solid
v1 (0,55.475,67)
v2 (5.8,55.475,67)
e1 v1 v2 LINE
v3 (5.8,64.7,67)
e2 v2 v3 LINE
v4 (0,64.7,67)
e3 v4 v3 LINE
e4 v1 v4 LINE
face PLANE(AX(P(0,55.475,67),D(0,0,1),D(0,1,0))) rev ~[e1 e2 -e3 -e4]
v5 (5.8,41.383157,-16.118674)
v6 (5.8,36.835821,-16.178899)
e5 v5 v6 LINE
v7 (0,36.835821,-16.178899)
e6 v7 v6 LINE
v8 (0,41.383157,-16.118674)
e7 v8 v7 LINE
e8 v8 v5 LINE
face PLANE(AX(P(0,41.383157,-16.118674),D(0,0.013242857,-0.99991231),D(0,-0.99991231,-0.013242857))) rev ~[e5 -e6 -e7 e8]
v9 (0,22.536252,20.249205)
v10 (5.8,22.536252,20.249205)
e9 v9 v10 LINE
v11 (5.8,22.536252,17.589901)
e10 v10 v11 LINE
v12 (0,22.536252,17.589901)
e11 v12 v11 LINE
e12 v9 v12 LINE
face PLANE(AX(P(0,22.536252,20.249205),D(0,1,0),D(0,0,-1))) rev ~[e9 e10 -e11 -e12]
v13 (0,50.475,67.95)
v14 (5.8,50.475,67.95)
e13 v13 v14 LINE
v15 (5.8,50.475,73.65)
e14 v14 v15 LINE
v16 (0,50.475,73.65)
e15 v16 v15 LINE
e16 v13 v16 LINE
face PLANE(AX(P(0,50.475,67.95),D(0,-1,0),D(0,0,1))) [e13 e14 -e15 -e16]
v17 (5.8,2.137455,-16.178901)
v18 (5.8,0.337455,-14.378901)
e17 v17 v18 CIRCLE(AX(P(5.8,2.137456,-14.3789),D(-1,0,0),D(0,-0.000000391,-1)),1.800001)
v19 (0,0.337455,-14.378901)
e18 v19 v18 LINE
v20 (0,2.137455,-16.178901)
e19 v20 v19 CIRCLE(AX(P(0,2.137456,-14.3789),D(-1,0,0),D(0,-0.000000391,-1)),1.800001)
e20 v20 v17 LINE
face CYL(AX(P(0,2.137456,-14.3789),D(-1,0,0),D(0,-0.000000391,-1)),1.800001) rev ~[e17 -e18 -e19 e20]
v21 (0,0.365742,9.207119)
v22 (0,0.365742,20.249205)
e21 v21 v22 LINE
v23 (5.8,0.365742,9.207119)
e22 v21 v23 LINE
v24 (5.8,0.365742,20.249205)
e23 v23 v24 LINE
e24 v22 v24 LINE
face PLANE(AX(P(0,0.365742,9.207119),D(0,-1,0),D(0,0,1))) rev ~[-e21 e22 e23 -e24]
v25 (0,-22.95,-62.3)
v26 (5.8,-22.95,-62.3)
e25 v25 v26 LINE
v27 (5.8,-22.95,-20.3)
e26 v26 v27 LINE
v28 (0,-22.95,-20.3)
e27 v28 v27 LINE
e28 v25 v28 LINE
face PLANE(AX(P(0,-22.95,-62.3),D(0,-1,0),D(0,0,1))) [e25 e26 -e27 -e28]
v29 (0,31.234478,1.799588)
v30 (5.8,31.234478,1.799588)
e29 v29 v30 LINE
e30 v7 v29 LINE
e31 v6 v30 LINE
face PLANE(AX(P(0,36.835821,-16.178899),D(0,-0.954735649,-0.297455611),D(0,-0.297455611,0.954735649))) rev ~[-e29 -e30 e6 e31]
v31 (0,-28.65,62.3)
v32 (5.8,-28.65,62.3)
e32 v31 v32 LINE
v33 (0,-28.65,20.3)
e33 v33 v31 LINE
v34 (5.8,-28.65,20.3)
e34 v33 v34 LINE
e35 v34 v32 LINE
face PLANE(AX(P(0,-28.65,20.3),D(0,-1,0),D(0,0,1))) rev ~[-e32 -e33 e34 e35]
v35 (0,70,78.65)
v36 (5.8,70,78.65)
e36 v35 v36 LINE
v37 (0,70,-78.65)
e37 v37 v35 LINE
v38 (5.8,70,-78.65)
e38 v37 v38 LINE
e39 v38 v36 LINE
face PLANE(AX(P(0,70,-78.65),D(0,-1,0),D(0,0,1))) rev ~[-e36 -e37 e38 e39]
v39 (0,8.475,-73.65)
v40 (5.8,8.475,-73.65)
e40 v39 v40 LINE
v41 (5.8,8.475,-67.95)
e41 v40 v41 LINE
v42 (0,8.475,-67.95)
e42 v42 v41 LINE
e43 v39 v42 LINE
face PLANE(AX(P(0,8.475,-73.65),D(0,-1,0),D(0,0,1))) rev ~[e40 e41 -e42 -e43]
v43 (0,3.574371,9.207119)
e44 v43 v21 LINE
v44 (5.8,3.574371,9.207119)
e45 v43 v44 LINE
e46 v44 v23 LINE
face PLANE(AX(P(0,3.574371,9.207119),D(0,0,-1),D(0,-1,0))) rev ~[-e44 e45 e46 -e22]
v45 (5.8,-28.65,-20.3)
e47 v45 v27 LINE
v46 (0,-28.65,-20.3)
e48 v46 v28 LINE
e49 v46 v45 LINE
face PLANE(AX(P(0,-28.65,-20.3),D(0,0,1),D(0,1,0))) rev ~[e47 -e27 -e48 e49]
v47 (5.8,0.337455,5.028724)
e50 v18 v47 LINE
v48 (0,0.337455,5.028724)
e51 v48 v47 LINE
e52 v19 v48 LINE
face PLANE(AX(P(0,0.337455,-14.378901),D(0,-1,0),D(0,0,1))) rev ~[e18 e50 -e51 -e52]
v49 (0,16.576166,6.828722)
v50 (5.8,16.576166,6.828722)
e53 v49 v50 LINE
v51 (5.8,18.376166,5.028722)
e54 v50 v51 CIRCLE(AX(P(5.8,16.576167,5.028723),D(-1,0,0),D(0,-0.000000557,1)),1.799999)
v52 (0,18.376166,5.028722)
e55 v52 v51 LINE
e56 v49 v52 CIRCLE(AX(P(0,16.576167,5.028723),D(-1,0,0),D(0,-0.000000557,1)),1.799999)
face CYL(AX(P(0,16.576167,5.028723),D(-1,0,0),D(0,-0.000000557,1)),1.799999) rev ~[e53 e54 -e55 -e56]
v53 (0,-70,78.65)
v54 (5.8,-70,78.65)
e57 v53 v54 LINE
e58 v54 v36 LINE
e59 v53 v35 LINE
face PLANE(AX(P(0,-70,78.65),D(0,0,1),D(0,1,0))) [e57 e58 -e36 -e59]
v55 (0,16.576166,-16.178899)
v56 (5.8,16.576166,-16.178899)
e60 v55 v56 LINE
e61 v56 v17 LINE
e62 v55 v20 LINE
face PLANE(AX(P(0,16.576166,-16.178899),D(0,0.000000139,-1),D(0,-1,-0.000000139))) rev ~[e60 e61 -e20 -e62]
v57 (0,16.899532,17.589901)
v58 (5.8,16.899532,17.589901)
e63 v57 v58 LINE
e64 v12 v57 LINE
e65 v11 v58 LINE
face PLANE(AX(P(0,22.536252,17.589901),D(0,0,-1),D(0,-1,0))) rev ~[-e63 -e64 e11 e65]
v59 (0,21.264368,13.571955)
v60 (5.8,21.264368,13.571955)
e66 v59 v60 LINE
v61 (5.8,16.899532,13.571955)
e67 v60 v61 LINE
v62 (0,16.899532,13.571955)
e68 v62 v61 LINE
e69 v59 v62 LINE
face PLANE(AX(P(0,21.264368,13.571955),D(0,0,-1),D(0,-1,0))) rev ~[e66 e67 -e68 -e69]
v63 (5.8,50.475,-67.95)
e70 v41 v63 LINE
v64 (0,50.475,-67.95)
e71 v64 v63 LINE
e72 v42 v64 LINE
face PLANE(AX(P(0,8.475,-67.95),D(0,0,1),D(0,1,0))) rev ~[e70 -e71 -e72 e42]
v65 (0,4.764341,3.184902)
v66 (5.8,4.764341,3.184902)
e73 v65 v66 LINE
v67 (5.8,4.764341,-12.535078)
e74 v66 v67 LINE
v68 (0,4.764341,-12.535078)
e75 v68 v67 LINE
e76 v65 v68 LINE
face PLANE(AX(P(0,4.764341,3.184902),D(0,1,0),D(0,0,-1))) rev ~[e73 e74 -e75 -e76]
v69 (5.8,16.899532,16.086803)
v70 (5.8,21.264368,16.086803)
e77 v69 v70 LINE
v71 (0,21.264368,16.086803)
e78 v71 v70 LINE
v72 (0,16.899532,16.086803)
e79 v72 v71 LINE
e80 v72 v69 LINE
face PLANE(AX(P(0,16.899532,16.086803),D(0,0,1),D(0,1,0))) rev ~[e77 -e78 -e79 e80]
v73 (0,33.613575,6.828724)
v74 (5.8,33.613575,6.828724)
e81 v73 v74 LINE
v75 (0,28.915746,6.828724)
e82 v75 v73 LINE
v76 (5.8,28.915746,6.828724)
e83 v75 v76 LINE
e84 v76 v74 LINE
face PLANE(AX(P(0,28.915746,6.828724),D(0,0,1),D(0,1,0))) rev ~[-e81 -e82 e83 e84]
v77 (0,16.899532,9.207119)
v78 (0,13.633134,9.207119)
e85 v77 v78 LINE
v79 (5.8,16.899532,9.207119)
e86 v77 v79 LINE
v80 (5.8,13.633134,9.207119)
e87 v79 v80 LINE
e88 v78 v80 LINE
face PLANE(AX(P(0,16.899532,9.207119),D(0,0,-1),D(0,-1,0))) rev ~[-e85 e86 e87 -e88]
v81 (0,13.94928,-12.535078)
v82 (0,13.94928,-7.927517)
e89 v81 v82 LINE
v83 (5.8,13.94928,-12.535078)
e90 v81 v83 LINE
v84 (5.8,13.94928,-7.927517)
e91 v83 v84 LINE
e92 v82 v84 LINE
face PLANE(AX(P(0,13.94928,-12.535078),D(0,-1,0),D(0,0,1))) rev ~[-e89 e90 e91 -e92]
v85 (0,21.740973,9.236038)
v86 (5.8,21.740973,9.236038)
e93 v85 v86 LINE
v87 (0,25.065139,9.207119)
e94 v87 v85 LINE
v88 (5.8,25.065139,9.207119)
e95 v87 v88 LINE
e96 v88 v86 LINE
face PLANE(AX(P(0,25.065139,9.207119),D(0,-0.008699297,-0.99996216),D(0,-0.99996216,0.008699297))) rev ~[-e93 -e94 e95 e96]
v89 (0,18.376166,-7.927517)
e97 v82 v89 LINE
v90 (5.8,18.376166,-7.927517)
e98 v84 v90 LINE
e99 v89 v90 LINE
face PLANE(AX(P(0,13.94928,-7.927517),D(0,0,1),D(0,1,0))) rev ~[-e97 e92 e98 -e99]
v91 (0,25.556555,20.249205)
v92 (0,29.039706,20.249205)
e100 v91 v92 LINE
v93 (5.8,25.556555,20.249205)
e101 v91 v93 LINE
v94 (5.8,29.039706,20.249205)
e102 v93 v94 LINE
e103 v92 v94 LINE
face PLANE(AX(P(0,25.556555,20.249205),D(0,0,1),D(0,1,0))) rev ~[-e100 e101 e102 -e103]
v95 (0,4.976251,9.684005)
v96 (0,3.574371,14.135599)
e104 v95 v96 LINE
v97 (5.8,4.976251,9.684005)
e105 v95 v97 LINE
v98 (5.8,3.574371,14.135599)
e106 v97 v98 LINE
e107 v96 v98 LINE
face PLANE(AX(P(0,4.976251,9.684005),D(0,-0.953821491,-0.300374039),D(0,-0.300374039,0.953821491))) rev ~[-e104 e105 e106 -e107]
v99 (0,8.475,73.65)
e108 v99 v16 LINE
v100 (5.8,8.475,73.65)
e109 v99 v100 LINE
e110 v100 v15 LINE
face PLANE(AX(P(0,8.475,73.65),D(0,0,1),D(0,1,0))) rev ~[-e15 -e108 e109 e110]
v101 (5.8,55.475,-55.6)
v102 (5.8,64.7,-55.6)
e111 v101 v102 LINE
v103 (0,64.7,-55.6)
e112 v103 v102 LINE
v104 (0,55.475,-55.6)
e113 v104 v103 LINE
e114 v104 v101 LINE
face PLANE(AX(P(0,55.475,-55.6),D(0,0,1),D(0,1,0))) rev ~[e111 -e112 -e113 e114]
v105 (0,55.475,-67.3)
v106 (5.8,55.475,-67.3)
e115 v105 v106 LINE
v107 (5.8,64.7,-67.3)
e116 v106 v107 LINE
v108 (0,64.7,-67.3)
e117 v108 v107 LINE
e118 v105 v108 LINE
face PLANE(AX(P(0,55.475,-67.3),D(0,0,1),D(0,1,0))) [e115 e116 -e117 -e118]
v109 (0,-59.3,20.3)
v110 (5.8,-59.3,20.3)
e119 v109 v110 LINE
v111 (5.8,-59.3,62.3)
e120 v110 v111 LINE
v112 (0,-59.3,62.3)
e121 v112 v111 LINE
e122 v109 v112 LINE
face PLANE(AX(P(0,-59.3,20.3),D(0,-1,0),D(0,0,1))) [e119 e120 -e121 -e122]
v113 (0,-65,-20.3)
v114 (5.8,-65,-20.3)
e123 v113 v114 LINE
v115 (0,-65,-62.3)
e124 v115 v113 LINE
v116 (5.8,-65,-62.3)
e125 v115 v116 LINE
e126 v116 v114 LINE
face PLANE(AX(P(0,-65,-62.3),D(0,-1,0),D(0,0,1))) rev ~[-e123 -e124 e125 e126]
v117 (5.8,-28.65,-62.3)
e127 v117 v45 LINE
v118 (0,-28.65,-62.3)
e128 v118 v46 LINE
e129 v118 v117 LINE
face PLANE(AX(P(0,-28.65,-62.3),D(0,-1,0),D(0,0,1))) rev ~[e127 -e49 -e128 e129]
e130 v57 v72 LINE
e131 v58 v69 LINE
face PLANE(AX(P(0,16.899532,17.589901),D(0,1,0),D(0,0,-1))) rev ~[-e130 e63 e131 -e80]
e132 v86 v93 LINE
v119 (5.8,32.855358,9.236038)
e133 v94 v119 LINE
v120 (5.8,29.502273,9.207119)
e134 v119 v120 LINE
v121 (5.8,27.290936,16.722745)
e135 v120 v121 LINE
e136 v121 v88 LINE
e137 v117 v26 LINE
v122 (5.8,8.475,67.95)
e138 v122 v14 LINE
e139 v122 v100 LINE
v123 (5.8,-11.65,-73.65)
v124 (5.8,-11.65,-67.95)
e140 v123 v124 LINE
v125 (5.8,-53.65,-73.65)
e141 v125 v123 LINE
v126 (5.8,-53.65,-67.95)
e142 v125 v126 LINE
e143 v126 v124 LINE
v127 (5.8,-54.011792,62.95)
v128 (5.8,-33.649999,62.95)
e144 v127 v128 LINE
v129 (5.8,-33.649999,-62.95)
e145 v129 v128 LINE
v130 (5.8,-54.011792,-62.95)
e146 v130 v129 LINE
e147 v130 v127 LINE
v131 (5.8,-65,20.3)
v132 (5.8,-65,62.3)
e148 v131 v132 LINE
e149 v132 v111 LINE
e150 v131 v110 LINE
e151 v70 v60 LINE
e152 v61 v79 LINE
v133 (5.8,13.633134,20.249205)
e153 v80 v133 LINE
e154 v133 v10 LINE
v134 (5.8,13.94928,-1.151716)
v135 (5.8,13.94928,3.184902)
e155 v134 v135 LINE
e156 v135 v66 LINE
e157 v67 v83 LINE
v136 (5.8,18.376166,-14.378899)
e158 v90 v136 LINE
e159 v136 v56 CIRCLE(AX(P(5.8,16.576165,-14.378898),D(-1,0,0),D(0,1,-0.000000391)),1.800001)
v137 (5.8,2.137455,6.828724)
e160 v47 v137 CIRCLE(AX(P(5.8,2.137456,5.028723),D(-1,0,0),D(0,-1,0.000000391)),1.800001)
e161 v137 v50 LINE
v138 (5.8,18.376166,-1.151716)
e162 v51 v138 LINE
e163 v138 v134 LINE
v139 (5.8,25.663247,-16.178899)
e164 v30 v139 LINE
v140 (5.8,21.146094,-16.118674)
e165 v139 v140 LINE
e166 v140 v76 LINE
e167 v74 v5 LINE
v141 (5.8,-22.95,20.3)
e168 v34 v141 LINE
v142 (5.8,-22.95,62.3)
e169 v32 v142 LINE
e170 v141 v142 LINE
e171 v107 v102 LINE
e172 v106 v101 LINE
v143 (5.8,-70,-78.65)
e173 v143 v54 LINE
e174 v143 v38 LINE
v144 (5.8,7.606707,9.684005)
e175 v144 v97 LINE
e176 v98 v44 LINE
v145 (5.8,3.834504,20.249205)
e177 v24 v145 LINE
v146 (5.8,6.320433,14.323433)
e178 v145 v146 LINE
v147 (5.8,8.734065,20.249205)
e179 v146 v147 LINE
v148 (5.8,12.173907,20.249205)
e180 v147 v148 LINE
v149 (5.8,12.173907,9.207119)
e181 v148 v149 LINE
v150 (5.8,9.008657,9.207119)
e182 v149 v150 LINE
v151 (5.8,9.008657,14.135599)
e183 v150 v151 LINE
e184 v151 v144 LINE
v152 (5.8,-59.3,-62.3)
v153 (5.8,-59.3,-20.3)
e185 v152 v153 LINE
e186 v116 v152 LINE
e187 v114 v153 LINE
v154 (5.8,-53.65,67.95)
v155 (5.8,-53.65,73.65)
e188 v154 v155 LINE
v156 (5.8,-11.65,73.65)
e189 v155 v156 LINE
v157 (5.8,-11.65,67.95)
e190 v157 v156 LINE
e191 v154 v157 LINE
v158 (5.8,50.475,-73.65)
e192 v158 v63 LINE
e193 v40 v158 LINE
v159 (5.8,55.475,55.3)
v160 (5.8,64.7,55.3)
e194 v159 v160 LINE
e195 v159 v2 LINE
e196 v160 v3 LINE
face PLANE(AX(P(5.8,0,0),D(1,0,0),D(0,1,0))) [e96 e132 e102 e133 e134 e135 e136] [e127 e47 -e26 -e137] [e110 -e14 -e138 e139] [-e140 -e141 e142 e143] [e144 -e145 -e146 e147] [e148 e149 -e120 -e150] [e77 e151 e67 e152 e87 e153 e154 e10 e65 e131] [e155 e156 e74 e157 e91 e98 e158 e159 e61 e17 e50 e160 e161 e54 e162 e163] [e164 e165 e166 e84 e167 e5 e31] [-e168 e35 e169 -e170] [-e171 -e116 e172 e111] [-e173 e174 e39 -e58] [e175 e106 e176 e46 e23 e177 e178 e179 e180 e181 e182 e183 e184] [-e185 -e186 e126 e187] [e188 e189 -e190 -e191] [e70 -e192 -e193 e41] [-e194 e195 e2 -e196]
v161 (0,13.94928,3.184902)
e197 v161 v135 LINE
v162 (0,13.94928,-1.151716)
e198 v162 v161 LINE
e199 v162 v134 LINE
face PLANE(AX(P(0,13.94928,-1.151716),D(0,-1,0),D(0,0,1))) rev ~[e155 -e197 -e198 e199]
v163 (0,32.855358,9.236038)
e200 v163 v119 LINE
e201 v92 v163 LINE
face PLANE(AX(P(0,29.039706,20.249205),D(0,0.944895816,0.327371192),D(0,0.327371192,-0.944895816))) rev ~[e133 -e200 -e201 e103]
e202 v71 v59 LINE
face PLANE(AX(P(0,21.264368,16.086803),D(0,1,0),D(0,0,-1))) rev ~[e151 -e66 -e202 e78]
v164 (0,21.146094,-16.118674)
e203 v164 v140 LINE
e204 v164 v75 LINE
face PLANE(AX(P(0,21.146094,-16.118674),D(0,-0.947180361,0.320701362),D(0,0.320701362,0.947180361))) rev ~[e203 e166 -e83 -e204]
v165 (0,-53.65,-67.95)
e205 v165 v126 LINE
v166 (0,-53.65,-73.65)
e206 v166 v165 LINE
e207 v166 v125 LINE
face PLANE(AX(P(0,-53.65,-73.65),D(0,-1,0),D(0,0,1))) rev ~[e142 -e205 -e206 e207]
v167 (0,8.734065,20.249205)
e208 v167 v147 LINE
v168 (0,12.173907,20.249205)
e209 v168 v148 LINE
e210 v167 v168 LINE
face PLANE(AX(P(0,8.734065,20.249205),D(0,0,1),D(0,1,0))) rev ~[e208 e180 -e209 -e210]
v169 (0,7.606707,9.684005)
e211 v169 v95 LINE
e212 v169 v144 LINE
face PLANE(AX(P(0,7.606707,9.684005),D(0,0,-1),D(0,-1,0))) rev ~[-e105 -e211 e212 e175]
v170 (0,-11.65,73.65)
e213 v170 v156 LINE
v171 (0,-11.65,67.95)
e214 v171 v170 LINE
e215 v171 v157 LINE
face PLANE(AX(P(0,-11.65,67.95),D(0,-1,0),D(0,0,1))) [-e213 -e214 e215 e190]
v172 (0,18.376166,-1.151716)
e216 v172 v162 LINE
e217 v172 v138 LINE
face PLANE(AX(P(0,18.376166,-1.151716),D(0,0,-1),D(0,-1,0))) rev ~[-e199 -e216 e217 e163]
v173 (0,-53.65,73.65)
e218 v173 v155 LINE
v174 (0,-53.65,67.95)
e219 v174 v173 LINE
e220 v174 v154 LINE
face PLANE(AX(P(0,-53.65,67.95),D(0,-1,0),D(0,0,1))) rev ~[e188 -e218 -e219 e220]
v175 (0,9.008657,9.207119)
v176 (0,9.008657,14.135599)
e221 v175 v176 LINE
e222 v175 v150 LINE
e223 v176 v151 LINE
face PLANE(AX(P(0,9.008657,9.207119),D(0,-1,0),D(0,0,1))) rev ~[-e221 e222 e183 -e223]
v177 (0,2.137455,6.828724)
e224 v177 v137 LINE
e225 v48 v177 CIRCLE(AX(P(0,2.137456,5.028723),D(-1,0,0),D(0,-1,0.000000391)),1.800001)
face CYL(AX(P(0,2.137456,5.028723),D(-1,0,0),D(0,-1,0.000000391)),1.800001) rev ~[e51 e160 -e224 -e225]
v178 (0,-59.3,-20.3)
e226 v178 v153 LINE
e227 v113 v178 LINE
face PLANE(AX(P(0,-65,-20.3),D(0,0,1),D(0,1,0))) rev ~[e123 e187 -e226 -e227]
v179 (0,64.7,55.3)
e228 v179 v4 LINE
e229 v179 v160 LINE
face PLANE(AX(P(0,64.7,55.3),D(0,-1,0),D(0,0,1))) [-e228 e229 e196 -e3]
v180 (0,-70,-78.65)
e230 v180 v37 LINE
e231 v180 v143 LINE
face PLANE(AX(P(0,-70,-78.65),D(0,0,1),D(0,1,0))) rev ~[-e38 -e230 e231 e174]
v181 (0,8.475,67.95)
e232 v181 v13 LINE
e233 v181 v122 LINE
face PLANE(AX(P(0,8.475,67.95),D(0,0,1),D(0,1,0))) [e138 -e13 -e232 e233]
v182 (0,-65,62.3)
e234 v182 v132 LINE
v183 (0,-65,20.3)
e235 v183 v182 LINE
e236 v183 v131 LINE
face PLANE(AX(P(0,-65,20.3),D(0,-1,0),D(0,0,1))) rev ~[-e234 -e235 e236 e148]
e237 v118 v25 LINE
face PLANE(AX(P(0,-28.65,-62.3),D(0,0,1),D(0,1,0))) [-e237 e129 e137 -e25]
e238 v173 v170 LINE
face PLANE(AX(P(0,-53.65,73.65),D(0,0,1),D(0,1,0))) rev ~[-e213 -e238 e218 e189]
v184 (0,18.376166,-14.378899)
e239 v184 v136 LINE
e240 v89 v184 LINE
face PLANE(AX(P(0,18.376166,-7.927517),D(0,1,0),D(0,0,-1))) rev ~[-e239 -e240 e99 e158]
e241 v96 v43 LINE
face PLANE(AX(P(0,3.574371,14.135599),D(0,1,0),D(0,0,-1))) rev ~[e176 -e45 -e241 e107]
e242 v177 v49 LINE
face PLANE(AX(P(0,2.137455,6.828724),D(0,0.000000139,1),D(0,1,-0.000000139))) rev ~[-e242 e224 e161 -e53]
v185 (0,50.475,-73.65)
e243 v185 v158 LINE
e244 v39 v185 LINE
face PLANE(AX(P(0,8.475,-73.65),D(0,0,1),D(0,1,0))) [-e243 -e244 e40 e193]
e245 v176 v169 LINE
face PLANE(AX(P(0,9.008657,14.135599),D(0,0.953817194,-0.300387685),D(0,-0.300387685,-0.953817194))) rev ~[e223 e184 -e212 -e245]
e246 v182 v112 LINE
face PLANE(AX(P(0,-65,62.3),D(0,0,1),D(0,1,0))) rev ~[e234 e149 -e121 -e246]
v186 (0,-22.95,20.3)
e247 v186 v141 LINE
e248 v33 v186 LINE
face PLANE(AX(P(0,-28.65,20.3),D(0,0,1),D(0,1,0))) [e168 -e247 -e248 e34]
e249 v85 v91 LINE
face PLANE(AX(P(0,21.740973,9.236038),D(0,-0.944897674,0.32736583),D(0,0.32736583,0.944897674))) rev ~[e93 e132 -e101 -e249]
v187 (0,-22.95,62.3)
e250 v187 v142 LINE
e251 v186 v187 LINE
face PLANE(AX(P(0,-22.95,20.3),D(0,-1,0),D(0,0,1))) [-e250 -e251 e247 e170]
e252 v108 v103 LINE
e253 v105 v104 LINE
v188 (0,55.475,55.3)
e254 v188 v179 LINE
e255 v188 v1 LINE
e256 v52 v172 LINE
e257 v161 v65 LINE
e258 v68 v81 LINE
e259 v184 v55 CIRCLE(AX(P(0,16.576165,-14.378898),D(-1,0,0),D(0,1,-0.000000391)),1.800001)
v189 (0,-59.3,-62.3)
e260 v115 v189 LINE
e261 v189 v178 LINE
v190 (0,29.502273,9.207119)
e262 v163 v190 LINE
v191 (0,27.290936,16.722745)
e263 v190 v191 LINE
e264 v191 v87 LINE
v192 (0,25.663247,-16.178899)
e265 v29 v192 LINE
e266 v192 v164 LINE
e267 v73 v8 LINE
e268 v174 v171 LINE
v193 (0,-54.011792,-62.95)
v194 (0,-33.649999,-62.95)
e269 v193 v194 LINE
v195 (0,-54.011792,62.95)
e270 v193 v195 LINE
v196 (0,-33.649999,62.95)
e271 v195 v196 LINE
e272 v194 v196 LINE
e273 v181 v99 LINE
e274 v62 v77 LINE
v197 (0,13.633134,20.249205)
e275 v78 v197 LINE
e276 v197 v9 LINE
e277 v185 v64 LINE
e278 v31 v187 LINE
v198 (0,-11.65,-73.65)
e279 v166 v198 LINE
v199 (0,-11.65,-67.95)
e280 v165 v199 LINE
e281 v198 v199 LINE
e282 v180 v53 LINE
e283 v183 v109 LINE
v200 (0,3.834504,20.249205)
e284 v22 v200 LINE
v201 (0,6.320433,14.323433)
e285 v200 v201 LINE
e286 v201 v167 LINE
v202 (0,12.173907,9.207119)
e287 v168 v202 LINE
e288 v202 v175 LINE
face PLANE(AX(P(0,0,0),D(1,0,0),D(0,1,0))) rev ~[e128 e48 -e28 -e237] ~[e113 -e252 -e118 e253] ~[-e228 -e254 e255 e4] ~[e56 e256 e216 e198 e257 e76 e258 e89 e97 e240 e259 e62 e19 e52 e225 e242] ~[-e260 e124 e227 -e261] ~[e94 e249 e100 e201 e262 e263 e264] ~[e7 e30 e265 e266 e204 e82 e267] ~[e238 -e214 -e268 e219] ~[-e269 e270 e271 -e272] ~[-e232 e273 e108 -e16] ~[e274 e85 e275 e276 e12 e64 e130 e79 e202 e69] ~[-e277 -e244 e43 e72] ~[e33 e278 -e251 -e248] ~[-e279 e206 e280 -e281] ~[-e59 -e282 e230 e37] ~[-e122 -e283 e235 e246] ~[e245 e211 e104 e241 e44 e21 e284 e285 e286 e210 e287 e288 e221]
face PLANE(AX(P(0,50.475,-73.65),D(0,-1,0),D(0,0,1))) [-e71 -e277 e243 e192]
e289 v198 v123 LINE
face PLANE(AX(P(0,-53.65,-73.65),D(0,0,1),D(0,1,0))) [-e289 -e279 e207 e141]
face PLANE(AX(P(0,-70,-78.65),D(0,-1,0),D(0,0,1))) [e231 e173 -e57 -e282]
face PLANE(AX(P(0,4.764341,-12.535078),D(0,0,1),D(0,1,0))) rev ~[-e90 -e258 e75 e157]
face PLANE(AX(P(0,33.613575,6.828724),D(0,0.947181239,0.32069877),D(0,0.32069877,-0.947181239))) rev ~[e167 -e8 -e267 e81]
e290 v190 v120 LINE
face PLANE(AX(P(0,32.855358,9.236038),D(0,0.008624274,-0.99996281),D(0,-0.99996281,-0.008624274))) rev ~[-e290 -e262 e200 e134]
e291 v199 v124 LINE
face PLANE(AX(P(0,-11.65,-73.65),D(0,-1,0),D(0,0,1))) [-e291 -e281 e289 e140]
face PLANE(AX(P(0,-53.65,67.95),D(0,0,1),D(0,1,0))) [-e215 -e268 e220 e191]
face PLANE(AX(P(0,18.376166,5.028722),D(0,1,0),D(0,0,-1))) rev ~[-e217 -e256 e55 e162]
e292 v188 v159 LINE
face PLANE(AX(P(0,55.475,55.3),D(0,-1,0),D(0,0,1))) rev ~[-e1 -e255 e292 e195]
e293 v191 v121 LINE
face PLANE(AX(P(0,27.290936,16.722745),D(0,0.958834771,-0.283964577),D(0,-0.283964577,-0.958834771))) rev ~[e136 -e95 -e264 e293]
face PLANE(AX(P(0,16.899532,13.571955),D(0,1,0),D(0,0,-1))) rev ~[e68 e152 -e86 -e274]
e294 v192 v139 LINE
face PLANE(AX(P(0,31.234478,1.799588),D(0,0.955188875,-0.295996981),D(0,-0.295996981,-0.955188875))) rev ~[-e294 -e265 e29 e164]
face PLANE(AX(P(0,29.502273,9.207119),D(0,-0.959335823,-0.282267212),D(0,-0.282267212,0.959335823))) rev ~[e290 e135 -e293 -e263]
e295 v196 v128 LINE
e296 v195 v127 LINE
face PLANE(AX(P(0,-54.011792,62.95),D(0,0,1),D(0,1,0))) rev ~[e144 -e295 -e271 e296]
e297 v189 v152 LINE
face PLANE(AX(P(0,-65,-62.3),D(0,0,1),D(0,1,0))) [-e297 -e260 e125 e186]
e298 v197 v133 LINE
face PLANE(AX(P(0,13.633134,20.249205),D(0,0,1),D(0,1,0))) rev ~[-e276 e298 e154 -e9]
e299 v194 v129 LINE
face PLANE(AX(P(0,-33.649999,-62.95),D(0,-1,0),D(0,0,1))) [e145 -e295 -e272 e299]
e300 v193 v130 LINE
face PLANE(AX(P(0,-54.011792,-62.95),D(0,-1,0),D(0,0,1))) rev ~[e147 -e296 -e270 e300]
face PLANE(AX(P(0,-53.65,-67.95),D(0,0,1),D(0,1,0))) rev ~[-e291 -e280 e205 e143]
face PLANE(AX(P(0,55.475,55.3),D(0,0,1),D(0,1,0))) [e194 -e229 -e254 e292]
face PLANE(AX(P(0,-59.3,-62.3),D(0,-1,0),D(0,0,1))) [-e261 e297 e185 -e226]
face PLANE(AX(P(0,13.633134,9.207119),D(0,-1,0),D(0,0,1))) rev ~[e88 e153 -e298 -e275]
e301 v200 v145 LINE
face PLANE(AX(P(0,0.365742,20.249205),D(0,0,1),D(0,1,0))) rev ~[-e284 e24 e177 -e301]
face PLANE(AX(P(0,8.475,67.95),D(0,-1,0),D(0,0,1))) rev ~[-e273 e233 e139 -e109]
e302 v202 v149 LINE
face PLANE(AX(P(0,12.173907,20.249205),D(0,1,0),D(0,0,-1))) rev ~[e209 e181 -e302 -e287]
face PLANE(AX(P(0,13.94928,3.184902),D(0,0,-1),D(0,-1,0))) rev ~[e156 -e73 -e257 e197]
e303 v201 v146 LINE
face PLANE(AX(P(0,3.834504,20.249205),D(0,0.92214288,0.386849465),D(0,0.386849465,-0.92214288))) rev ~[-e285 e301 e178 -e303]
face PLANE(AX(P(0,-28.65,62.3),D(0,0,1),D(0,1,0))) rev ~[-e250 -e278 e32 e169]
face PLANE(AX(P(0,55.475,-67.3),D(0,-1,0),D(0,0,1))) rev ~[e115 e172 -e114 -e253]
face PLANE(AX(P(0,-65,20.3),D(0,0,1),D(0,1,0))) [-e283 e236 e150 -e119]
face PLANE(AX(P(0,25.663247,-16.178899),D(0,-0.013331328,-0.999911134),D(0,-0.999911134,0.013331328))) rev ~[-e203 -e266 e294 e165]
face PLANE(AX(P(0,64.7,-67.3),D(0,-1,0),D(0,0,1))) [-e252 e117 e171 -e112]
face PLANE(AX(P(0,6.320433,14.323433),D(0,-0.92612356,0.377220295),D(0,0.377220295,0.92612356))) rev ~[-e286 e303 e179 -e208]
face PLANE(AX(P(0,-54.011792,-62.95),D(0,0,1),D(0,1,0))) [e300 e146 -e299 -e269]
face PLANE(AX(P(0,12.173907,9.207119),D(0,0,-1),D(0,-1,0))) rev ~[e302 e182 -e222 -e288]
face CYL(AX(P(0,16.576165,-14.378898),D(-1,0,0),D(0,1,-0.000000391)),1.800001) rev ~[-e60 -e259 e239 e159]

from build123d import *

# Parameters (mm, degrees)
F0_W     = 140
F0_H     = 157.3
F0_W_2   = 5.7
F0_H_2   = 42
F0_W_3   = 42
F0_H_3   = 5.7
F0_W_4   = 9.225
F0_H_4   = 11.7
F0_W_5   = 20.361793
F0_H_5   = 125.9
F1_DEPTH = 5.8


with BuildPart() as f1:
    # F0 (on Right) → F1 (new body)
    with BuildSketch(Plane.YZ):
        Rectangle(F0_W, F0_H)
        with Locations((-62.15, -41.3)):
            Rectangle(F0_W_2, F0_H_2, mode=Mode.SUBTRACT)
        with Locations((-32.65, -70.8)):
            Rectangle(F0_W_3, F0_H_3, mode=Mode.SUBTRACT)
        with Locations((-25.8, -41.3)):
            Rectangle(F0_W_2, F0_H_2, mode=Mode.SUBTRACT)
        with Locations((29.475, -70.8)):
            Rectangle(F0_W_3, F0_H_3, mode=Mode.SUBTRACT)
        with Locations((60.0875, -61.45)):
            Rectangle(F0_W_4, F0_H_4, mode=Mode.SUBTRACT)
        with BuildLine():
            ThreePointArc((18.376166, -14.378899), (17.848958, -15.651691), (16.576166, -16.178899))
            Line((16.576166, -16.178899), (2.137455, -16.178901))
            ThreePointArc((2.137455, -16.178901), (0.864663, -15.651693), (0.337455, -14.378901))
            Line((0.337455, -14.378901), (0.337455, 5.028724))
            ThreePointArc((0.337455, 5.028724), (0.864663, 6.301516), (2.137455, 6.828724))
            Line((2.137455, 6.828724), (16.576166, 6.828722))
            ThreePointArc((16.576166, 6.828722), (17.848958, 6.301515), (18.376166, 5.028722))
            Line((18.376166, 5.028722), (18.376166, -1.151716))
            Line((18.376166, -1.151716), (13.94928, -1.151716))
            Line((13.94928, -1.151716), (13.94928, 3.184902))
            Line((13.94928, 3.184902), (4.764341, 3.184902))
            Line((4.764341, 3.184902), (4.764341, -12.535078))
            Line((4.764341, -12.535078), (13.94928, -12.535078))
            Line((13.94928, -12.535078), (13.94928, -7.927517))
            Line((13.94928, -7.927517), (18.376166, -7.927517))
            Line((18.376166, -7.927517), (18.376166, -14.378899))
        make_face(mode=Mode.SUBTRACT)
        Polygon((25.663247, -16.178899), (21.146094, -16.118674), (28.915746, 6.828724), (33.613575, 6.828724), (41.383157, -16.118674), (36.835821, -16.178899), (31.234478, 1.799588), align=None, mode=Mode.SUBTRACT)
        with Locations((-43.830896, 0)):
            Rectangle(F0_W_5, F0_H_5, mode=Mode.SUBTRACT)
        with Locations((-62.15, 41.3)):
            Rectangle(F0_W_2, F0_H_2, mode=Mode.SUBTRACT)
        with Locations((-25.8, 41.3)):
            Rectangle(F0_W_2, F0_H_2, mode=Mode.SUBTRACT)
        with Locations((-32.65, 70.8)):
            Rectangle(F0_W_3, F0_H_3, mode=Mode.SUBTRACT)
        Polygon((3.574371, 9.207119), (0.365742, 9.207119), (0.365742, 20.249205), (3.834504, 20.249205), (6.320433, 14.323433), (8.734065, 20.249205), (12.173907, 20.249205), (12.173907, 9.207119), (9.008657, 9.207119), (9.008657, 14.135599), (7.606707, 9.684005), (4.976251, 9.684005), (3.574371, 14.135599), align=None, mode=Mode.SUBTRACT)
        Polygon((16.899532, 13.571955), (16.899532, 9.207119), (13.633134, 9.207119), (13.633134, 20.249205), (22.536252, 20.249205), (22.536252, 17.589901), (16.899532, 17.589901), (16.899532, 16.086803), (21.264368, 16.086803), (21.264368, 13.571955), align=None, mode=Mode.SUBTRACT)
        Polygon((25.065139, 9.207119), (21.740973, 9.236038), (25.556555, 20.249205), (29.039706, 20.249205), (32.855358, 9.236038), (29.502273, 9.207119), (27.290936, 16.722745), align=None, mode=Mode.SUBTRACT)
        with Locations((29.475, 70.8)):
            Rectangle(F0_W_3, F0_H_3, mode=Mode.SUBTRACT)
        with Locations((60.0875, 61.15)):
            Rectangle(F0_W_4, F0_H_4, mode=Mode.SUBTRACT)
    extrude(amount=F1_DEPTH)


solid = f1.part
